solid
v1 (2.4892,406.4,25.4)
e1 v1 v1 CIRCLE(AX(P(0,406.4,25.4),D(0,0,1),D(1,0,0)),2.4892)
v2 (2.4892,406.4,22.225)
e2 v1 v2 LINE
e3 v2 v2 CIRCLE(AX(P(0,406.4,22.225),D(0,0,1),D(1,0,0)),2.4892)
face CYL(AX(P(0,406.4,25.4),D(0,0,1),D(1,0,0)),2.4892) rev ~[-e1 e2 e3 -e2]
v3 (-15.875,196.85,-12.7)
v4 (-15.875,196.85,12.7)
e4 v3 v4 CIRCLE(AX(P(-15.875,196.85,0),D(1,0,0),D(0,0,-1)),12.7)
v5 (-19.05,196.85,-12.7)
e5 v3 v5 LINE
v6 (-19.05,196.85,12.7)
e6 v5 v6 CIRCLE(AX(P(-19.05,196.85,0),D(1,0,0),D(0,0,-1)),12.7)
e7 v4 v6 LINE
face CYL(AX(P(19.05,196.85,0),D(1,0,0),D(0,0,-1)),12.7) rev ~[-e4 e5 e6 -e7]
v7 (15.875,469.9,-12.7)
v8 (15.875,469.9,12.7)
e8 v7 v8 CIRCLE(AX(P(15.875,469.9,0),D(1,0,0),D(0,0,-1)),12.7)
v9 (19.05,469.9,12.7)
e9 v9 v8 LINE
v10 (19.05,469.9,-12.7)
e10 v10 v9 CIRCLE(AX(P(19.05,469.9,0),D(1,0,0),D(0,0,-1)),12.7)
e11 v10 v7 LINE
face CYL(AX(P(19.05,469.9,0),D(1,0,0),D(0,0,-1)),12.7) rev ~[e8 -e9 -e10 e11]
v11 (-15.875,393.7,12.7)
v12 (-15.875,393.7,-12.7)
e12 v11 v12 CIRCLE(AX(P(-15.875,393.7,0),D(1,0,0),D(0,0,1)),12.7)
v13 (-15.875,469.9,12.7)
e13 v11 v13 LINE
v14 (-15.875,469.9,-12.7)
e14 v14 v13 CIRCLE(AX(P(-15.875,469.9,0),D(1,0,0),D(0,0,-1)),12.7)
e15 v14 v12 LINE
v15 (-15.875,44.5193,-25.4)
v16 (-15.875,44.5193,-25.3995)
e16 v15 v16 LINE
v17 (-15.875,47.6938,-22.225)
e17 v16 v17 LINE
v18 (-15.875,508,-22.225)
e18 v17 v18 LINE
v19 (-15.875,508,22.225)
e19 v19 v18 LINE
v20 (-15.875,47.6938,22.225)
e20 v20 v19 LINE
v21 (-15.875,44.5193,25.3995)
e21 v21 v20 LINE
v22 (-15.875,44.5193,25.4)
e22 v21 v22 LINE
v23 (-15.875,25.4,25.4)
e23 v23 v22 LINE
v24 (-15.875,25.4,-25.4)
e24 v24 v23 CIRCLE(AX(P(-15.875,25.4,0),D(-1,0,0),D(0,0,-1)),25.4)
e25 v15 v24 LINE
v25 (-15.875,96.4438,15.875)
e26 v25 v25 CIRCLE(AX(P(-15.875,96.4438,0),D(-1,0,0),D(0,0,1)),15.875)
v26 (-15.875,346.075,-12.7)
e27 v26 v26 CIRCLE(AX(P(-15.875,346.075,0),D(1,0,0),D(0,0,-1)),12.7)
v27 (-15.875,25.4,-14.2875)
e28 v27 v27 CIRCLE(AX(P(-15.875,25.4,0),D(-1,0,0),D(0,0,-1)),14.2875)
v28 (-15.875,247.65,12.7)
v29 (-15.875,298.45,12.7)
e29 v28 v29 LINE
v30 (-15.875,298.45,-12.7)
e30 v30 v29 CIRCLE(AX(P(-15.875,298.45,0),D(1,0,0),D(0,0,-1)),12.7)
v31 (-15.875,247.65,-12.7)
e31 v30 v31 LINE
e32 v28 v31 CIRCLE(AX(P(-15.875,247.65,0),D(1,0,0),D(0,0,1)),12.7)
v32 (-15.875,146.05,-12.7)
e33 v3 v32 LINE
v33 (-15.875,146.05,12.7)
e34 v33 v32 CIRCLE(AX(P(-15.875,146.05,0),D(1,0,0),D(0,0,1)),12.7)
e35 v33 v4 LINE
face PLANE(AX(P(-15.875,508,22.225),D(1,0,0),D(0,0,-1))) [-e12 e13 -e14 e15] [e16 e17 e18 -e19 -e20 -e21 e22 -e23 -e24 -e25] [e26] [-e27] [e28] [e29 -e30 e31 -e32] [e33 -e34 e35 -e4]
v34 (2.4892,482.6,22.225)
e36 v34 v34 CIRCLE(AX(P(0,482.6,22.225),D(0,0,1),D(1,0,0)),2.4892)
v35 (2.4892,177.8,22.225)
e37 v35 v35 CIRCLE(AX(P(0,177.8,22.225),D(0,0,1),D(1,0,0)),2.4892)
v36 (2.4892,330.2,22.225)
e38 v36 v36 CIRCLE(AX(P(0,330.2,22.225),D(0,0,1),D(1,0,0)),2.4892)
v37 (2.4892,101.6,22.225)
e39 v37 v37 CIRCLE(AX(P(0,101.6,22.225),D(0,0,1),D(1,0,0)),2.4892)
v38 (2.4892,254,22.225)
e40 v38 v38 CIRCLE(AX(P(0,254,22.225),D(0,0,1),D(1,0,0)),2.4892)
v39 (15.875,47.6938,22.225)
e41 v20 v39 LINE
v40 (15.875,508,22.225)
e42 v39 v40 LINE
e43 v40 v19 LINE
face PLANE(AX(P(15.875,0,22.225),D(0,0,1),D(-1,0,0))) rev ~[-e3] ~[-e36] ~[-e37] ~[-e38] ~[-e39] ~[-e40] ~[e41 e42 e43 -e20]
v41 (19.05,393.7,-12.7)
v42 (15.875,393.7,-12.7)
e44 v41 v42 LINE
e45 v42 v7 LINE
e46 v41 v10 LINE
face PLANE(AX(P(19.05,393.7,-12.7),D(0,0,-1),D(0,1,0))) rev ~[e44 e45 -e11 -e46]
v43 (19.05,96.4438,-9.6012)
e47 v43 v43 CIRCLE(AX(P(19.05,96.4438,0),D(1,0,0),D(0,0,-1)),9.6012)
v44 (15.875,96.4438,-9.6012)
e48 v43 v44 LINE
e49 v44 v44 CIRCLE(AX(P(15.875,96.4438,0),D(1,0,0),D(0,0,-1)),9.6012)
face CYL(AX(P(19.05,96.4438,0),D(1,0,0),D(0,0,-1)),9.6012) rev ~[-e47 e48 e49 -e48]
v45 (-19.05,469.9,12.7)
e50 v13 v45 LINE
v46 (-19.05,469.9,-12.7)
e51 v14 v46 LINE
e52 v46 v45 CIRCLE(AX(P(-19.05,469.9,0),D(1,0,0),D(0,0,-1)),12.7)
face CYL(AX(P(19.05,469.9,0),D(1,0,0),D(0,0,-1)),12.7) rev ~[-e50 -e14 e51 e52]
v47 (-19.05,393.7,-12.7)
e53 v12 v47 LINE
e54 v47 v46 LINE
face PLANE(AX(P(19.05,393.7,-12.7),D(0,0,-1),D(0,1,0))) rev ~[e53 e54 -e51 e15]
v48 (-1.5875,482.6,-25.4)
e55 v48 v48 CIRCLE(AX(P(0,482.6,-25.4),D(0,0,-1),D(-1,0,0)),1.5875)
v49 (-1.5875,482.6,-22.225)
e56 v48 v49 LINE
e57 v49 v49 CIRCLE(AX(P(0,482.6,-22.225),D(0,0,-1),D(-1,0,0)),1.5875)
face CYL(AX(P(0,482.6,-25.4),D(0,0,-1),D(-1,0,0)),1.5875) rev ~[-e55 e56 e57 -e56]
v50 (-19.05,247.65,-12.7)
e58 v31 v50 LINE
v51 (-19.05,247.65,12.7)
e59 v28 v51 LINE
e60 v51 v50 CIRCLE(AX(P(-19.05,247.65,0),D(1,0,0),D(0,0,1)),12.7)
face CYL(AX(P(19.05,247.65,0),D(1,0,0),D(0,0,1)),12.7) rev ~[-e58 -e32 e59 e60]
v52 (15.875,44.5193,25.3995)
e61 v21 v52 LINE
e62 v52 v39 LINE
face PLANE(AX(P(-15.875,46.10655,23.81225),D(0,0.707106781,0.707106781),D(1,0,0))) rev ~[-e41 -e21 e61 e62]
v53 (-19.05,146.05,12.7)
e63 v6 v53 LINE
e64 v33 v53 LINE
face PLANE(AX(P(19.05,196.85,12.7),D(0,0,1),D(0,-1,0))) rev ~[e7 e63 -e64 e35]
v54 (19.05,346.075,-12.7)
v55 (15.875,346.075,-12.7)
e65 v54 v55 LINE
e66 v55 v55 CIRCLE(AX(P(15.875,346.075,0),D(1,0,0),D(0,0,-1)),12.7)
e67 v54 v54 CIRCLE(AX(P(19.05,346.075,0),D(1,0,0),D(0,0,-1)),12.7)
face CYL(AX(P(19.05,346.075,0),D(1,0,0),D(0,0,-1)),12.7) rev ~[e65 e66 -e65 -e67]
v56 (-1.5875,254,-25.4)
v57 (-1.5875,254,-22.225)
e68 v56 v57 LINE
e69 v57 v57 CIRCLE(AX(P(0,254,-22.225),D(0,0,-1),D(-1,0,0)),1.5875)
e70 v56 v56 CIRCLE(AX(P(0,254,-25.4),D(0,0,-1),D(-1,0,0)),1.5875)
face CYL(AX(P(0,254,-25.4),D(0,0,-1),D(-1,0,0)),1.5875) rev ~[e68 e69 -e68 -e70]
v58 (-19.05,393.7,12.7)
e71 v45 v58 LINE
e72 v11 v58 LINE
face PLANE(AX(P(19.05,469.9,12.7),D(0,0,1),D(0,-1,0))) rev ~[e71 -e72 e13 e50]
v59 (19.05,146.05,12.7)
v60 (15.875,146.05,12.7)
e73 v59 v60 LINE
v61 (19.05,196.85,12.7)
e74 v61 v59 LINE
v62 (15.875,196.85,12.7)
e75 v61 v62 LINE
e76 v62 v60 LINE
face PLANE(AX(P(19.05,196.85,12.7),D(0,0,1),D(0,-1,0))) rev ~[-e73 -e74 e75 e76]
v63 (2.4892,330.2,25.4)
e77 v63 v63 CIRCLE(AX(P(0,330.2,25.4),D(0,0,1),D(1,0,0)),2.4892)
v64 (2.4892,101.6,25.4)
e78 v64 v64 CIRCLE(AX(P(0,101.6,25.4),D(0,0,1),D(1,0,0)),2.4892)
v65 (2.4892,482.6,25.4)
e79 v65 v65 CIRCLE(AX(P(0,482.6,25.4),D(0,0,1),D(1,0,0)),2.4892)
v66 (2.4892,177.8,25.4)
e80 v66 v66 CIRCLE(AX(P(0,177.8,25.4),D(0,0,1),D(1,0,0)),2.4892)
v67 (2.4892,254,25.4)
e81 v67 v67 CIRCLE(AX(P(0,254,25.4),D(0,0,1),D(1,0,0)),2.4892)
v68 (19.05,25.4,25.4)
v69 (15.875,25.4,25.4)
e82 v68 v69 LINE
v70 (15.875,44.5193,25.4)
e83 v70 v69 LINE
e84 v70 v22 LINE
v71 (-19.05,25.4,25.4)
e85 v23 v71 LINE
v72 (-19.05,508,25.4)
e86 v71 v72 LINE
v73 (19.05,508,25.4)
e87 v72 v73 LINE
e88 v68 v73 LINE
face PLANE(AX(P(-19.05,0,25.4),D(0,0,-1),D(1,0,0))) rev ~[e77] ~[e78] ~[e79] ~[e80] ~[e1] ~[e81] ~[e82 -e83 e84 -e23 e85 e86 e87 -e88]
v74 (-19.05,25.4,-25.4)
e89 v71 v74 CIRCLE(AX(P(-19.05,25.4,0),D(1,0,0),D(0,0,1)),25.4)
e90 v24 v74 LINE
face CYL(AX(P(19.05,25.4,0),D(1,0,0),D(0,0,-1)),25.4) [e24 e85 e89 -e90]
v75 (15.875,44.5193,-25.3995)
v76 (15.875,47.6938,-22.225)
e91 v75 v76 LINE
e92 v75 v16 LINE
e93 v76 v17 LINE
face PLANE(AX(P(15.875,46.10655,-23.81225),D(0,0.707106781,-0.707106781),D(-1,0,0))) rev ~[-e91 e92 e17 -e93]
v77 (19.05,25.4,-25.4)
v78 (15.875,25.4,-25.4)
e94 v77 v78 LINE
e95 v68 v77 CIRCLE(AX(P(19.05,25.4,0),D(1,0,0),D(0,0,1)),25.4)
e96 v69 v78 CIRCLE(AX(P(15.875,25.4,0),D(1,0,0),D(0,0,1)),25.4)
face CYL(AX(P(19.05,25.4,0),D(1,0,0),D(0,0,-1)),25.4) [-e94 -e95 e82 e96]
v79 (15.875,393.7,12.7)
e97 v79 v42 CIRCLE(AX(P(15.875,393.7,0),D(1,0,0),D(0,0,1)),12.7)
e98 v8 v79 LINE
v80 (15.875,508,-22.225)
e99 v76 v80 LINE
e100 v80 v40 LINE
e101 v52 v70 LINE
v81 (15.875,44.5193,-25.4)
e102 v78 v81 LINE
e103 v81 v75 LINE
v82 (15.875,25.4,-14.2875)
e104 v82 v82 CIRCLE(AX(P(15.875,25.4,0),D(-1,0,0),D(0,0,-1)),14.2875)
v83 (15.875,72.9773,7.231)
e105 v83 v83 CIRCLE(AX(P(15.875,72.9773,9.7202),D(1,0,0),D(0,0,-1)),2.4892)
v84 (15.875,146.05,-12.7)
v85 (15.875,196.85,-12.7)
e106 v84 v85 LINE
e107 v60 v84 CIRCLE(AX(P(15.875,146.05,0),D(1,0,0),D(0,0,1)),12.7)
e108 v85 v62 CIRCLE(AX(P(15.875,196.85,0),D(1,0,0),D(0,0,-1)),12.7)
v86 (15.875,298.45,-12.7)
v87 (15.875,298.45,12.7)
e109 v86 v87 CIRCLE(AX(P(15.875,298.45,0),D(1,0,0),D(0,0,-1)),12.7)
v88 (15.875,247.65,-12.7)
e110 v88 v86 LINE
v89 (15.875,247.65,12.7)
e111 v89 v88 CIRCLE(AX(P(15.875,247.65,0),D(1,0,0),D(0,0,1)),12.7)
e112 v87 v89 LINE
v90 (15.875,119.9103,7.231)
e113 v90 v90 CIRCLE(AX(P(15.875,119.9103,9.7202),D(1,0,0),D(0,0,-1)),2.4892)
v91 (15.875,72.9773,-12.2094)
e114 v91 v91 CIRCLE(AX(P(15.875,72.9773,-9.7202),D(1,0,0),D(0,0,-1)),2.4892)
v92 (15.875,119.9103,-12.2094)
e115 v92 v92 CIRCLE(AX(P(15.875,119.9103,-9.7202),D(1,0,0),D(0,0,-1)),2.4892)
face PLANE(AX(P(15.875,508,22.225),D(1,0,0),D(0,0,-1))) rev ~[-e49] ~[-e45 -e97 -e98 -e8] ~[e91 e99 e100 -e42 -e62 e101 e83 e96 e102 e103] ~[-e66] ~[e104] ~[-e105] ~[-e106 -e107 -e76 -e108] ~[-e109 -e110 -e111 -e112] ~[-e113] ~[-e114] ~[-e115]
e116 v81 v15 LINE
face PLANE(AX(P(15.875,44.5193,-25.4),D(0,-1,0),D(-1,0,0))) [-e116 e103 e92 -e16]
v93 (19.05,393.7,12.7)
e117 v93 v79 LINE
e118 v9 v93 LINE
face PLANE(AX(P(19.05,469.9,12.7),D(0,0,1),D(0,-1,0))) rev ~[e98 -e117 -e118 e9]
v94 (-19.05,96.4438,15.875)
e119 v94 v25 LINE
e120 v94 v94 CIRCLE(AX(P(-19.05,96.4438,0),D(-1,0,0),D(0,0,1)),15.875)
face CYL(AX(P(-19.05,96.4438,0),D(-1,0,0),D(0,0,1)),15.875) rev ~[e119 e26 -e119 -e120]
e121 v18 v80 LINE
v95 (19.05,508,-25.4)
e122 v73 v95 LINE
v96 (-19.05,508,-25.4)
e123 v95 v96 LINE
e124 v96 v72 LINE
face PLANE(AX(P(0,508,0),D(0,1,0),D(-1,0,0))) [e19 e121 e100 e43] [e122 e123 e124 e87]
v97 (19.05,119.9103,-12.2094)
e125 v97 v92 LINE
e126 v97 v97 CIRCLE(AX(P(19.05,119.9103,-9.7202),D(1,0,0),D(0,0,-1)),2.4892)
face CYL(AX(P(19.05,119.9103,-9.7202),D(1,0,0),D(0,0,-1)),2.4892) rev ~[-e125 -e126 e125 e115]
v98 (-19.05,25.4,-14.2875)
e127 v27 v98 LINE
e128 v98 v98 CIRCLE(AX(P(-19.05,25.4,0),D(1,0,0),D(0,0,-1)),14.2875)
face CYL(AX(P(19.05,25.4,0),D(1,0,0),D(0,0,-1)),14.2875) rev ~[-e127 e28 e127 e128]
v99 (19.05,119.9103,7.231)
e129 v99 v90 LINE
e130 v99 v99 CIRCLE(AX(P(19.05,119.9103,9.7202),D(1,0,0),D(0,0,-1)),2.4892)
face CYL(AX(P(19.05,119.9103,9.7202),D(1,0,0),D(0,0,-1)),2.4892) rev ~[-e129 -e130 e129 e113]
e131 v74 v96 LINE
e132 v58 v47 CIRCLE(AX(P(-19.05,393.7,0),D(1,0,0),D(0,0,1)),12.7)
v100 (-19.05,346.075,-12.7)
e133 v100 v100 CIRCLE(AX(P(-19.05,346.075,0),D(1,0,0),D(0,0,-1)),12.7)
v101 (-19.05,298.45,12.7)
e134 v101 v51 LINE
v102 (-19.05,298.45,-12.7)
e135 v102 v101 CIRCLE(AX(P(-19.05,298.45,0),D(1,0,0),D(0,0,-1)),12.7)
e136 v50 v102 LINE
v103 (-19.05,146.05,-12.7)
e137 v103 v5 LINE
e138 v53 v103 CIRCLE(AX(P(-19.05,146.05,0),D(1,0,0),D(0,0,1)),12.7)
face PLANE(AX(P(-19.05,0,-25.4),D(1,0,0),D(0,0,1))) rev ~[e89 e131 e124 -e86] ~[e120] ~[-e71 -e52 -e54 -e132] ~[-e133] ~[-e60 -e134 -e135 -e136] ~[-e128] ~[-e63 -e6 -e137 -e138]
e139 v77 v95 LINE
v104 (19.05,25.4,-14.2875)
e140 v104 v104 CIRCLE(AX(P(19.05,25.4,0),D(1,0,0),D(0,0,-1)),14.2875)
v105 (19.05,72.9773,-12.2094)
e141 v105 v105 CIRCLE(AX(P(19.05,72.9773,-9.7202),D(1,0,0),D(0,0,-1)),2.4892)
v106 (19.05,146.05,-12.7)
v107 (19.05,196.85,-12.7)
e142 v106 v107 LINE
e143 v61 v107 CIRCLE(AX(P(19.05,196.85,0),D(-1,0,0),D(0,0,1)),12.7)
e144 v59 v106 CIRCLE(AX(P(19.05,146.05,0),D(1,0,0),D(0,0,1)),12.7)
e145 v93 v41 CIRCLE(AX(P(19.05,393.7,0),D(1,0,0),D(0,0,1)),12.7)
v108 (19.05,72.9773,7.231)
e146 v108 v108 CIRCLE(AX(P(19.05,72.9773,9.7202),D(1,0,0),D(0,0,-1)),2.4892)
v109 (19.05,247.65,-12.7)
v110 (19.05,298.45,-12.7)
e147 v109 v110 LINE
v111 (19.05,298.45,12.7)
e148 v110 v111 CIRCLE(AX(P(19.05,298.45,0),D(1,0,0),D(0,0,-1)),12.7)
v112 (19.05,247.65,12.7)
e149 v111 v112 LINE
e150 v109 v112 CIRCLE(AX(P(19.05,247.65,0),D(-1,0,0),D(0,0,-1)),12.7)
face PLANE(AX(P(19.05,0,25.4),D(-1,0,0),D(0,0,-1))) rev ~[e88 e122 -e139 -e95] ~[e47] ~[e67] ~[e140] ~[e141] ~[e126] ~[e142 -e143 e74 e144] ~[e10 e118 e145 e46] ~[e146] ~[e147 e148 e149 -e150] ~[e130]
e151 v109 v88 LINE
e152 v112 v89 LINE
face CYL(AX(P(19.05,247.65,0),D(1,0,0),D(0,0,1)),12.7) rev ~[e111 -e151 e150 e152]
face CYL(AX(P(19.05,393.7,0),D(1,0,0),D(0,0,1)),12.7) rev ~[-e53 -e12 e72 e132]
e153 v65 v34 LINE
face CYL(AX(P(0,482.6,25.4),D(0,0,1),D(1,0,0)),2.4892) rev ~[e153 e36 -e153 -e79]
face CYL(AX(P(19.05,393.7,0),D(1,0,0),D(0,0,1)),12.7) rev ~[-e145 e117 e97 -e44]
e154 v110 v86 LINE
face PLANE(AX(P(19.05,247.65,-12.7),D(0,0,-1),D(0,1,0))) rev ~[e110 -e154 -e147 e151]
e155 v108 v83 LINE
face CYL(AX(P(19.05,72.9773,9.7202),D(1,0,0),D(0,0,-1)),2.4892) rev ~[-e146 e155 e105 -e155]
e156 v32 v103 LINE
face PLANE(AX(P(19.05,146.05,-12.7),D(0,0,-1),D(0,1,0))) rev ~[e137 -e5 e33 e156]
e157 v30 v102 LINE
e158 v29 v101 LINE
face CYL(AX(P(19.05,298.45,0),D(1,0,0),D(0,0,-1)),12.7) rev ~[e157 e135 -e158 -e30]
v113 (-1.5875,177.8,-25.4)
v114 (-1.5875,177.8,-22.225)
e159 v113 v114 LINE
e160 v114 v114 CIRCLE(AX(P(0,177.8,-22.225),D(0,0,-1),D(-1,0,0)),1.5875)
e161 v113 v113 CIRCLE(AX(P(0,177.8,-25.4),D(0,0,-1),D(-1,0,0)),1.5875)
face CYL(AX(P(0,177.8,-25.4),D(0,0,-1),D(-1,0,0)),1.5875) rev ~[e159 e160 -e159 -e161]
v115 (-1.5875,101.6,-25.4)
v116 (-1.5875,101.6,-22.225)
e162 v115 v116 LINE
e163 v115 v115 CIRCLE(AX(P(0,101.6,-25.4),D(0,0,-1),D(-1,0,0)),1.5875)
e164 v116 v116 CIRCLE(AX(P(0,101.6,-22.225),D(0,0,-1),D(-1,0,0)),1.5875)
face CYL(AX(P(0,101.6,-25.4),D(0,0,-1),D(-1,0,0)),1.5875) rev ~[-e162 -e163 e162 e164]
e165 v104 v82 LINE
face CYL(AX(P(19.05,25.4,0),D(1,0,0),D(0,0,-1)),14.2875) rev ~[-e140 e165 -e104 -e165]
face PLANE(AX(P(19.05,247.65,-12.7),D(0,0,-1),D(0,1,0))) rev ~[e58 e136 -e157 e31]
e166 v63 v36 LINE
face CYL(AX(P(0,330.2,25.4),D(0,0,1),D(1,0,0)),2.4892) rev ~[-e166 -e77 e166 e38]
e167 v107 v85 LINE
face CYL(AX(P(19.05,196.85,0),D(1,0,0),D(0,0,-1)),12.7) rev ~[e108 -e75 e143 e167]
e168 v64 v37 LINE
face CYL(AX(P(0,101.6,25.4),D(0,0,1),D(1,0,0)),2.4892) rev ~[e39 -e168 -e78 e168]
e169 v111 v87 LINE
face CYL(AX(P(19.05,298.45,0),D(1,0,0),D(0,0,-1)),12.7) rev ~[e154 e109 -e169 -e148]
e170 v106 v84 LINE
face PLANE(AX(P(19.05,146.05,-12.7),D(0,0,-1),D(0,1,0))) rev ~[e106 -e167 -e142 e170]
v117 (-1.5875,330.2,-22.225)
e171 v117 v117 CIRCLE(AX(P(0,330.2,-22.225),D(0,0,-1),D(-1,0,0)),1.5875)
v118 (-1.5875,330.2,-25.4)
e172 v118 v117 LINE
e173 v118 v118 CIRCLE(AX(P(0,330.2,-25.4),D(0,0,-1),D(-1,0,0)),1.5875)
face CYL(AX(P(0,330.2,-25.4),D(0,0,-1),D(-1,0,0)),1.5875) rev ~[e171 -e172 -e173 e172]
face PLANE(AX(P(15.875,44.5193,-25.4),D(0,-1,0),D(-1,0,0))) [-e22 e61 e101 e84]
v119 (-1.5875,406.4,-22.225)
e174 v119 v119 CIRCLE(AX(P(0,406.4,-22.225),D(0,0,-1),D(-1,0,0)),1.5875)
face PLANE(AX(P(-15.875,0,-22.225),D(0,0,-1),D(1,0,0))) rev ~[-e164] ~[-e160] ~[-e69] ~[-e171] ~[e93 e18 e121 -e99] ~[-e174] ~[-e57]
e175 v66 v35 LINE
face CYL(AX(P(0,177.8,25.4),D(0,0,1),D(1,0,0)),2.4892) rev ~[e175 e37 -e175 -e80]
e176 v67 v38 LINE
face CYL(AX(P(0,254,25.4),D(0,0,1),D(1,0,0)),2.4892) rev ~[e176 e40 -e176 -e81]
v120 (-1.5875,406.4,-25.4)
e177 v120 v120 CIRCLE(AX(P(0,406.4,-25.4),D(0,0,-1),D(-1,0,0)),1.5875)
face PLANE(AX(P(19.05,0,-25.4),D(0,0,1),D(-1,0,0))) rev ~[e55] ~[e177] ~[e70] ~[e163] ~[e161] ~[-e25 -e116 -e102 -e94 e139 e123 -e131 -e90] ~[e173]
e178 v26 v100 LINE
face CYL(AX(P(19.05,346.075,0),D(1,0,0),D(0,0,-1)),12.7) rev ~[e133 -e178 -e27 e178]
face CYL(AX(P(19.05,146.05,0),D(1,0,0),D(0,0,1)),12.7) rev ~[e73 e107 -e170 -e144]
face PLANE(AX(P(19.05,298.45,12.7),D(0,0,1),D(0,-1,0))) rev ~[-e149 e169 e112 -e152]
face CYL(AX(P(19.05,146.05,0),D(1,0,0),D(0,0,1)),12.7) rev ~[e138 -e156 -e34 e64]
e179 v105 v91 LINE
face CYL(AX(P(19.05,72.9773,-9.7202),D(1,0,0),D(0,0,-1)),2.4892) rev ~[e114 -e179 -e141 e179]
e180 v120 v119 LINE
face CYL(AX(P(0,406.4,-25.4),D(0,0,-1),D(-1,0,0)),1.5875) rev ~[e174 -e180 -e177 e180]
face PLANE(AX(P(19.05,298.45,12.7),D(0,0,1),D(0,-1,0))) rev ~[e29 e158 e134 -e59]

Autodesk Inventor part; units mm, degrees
ref_plane "YZ Plane" through (0, 0, 0) normal (1, 0, 0) x (0, 1, 0)
ref_plane "XZ Plane" through (0, 0, 0) normal (0, 1, 0) x (-1, 0, 0)
ref_plane "XY Plane" through (0, 0, 0) normal (0, 0, 1) x (1, 0, 0)
sketch "Sketch1" plane through (0, 0, 0) normal (0, 1, 0) x (-1, 0, 0)
  line L0 (-19.05, -25.4) -> (19.05, -25.4)
  line L1 (19.05, -25.4) -> (19.05, 25.4)
  line L2 (19.05, 25.4) -> (-19.05, 25.4)
  line L3 (-19.05, 25.4) -> (-19.05, -25.4)
  line L4 (-19.05, -25.4) -> (19.05, 25.4) construction
  line L5 (19.05, -25.4) -> (-19.05, 25.4) construction
  line L6 (-15.875, 22.225) -> (15.875, 22.225)
  line L7 (15.875, 22.225) -> (15.875, -22.225)
  line L8 (15.875, -22.225) -> (-15.875, -22.225)
  line L9 (-15.875, -22.225) -> (-15.875, 22.225)
  point P0 (0, 0)
  dimension "d0" = 38.1
  dimension "d1" = 50.8
  dimension "d2" = 3.175
extrude "Extrusion1" add sketch "Sketch1" along normal blind 508
sketch "Sketch2" plane through (19.05, 0, 25.4) normal (1, 0, 0) x (0, 0, -1)
  line L0 (25.4, 469.9) -> (25.4, 393.7) construction
  line L1 (12.7, 469.9) -> (12.7, 393.7)
  line L2 (38.1, 393.7) -> (38.1, 469.9)
  arc A0 (38.1, 469.9) -> (12.7, 469.9) centre (25.4, 469.9) ccw
  arc A1 (12.7, 393.7) -> (38.1, 393.7) centre (25.4, 393.7) ccw
  line L3 (25.4, 298.45) -> (25.4, 146.05) construction
  line L4 (12.7, 298.45) -> (12.7, 146.05)
  line L5 (38.1, 146.05) -> (38.1, 298.45)
  arc A2 (38.1, 298.45) -> (12.7, 298.45) centre (25.4, 298.45) ccw
  arc A3 (12.7, 146.05) -> (38.1, 146.05) centre (25.4, 146.05) ccw
  line L6 (25.4, 114.3) -> (25.4, 38.1) construction
  line L7 (12.7, 114.3) -> (12.7, 38.1)
  line L8 (38.1, 38.1) -> (38.1, 114.3) construction
  arc A4 (38.1, 114.3) -> (12.7, 114.3) centre (25.4, 114.3) ccw
  arc A5 (12.7, 38.1) -> (38.1, 38.1) centre (25.4, 38.1) ccw construction
  line L9 (0, 0) -> (50.8, 0) projected
  line L10 (50.8, 0) -> (50.8, 508) projected
  line L11 (0, 508) -> (50.8, 508) projected
  line L12 (0, 0) -> (0, 508) projected
  line L13 (0, 0) -> (0, 508) projected
  circle A6 centre (25.4, 346.075) radius 12.7
  circle A7 centre (25.4, 25.4) radius 25.4
  circle A8 centre (25.4, 25.4) radius 14.2875
  circle A9 centre (25.4, 222.25) radius 12.7
  arc A10 (12.7, 247.65) -> (38.1, 247.65) centre (25.4, 247.65) ccw
  arc A11 (38.1, 196.85) -> (12.7, 196.85) centre (25.4, 196.85) ccw
  point P0 (25.4, 0)
  point P1 (25.4, 431.8)
  point P2 (25.4, 76.2)
  point P3 (25.4, 0)
  point P4 (25.4, 0)
  point P5 (0, 25.4)
  point P6 (50.8, 25.4)
  dimension "d5" = 25.4
  dimension "d6" = 25.4
  dimension "d7" = 25.4
  dimension "d8" = 508
  dimension "d9" = 76.2
  dimension "d10" = 152.4
  dimension "d11" = 76.2
  dimension "d15" = 25.4
  dimension "d16" = 161.925
  dimension "d18" = 38.1
  dimension "d19" = 38.1
  dimension "d35" = 28.575
  dimension "d49" = 298.45
  dimension "d52" = 25.4
extrude "Extrusion2" cut sketch "Sketch2" against normal blind 508 contours A0 L2 A1 L1 | A2 L5 A10 L4 | A11 L5 A3 L4 | L12 A7 L9 | A7 L10 L9 | A6 | A8
sketch "Sketch3" plane through (-19.05, 0, 25.4) normal (0, 0, 1) x (1, 0, 0)
  line L0 (19.05, 0) -> (19.05, 50.8) construction
  line L1 (19.05, 50.8) -> (19.05, 508) construction
  circle A0 centre (19.05, 101.6) radius 2.4892
  circle A1 centre (19.05, 177.8) radius 2.4892
  circle A2 centre (19.05, 254) radius 2.4892
  circle A3 centre (19.05, 330.2) radius 2.4892
  circle A4 centre (19.05, 406.4) radius 2.4892
  circle A5 centre (19.05, 482.6) radius 2.4892
  dimension "d20" = 50.8
  dimension "d21" = 457.2
  dimension "d22" = 4.9784
  dimension "d23" = 50.8
  dimension "d26" = 76.2
extrude "Extrusion3" cut sketch "Sketch3" against normal blind 25.4
sketch "Sketch5" plane through (-15.875, 508, 22.225) normal (1, 0, 0) x (0, 0, -1)
  circle A0 centre (22.225, -482.6) radius 14.2875 projected
  circle A1 centre (22.225, -482.6) radius 26.9875
  point P0 (22.225, -508)
  dimension "d36" = 53.975
extrude "Extrusion5" cut sketch "Sketch5" along normal up to surface (31.75 mm away)
sketch "Sketch6" plane through (19.05, 508, 25.4) normal (1, 0, 0) x (0, 0, -1)
  circle A0 centre (25.4, -411.5562) radius 9.6012
  circle A1 centre (25.4, -411.5562) radius 25.4 construction
  line L0 (15.6798, -388.0897) -> (35.1202, -388.0897) construction
  line L1 (35.1202, -388.0897) -> (35.1202, -435.0227) construction
  line L2 (35.1202, -435.0227) -> (15.6798, -435.0227) construction
  line L3 (15.6798, -435.0227) -> (15.6798, -388.0897) construction
  arc A2 (0, -482.6) -> (50.8, -482.6) centre (25.4, -482.6) ccw projected
  circle A3 centre (15.6798, -388.0897) radius 2.4892
  circle A4 centre (1.9335, -401.836) radius 2.4892 construction
  circle A5 centre (1.9335, -421.2764) radius 2.4892 construction
  circle A6 centre (15.6798, -435.0227) radius 2.4892
  circle A7 centre (35.1202, -435.0227) radius 2.4892
  circle A8 centre (48.8665, -421.2764) radius 2.4892 construction
  circle A9 centre (48.8665, -401.836) radius 2.4892 construction
  circle A10 centre (35.1202, -388.0897) radius 2.4892
  point P0 (25.4, -508)
  point P1 (25.4, -508)
  dimension "d39" = 19.2024
  dimension "d40" = 50.8
  dimension "d41" = 4.9784
  dimension "d44" = 360
  dimension "d46" = 71.0438
extrude "Extrusion6" cut sketch "Sketch6" against normal blind 25.4
sketch "Sketch8" plane through (-19.05, 508, -25.4) normal (-1, 0, 0) x (0, 0, 1)
  circle A0 centre (25.4, -411.5562) radius 9.6012 projected
  circle A1 centre (25.4, -411.5562) radius 15.875
  point P0 (25.4, -508)
  dimension "d53" = 31.75
extrude "Extrusion7" cut sketch "Sketch8" against normal blind 25.4 contours A0 | A1
sketch "Sketch9" plane through (19.05, 508, -25.4) normal (0, 0, -1) x (-1, 0, 0)
  line L0 (34.925, -467.2907) -> (3.175, -467.2907) projected
  line L1 (3.175, -467.2907) -> (3.175, -473.4805) projected
  line L2 (34.925, -467.2907) -> (34.925, -473.4805) projected
  line L3 (3.175, -473.4805) -> (34.925, -473.4805) projected
  line L4 (3.175, -467.2907) -> (3.175, -463.4807)
  line L5 (3.175, -467.2907) -> (3.175, 0) projected
  line L6 (3.175, -463.4807) -> (34.925, -463.4807)
  line L7 (34.925, -467.2907) -> (34.925, 0) projected
  point P0 (19.05, -508)
  dimension "d64" = 3.81
extrude "Extrusion8" cut sketch "Sketch9" against normal through all
sketch "Sketch10" plane through (19.05, 508, 25.4) normal (1, 0, 0) x (0, 0, -1)
  circle A0 centre (25.4, -482.6) radius 14.2875 projected
  circle A1 centre (25.4, -482.6) radius 22.225
  line L0 (50.8, -482.6) -> (50.8, 0) projected
  arc A2 (25.4, -504.825) -> (50.8, -479.425) centre (25.4, -479.425) ccw
  line L1 (0, -482.6) -> (0, 0) projected
  arc A3 (0, -479.425) -> (25.4, -504.825) centre (25.4, -479.425) ccw
  arc A4 (0, -482.6) -> (50.8, -482.6) centre (25.4, -482.6) ccw projected
  point P0 (25.4, -508)
  point P1 (25.4, -504.825)
  dimension "d58" = 44.45
extrude "Extrusion9" [suppressed]
chamfer "Chamfer1" distance 3.175 angle 45 2 edges at (0, 44.5193, -22.225) (0, 44.5193, 22.225)
sketch "Sketch11" plane through (19.05, 508, -25.4) normal (0, 0, -1) x (-1, 0, 0)
  circle A0 centre (19.05, -25.4) radius 2.4892 construction
  circle A1 centre (19.05, -25.4) radius 1.5875
  line L0 (34.925, -463.4807) -> (34.925, -482.6) projected
  line L1 (38.1, -482.6) -> (34.925, -482.6) projected
  line L2 (38.1, -482.6) -> (38.1, 0) projected
  line L3 (0, 0) -> (38.1, 0) projected
  line L4 (0, -482.6) -> (0, 0) projected
  line L5 (3.175, -482.6) -> (0, -482.6) projected
  line L6 (3.175, -482.6) -> (3.175, -463.4807) projected
  line L7 (3.175, -463.4807) -> (34.925, -463.4807) projected
  circle A2 centre (19.05, -101.6) radius 1.5875
  circle A3 centre (19.05, -177.8) radius 1.5875
  circle A4 centre (19.05, -254) radius 1.5875
  circle A5 centre (19.05, -330.2) radius 1.5875
  circle A6 centre (19.05, -406.4) radius 1.5875
  point P0 (19.05, -508)
  dimension "d65" = 3.175
  dimension "d68" = 76.2
extrude "Extrusion10" cut sketch "Sketch11" against normal blind 25.4 contours A1 | A2 | A3 | A4 | A5 | A6
thread "Thread1" size "5-40 UNC" class "2B" standard "ANSI Unified Screw Threads" full length
thread "Thread2" size "5-40 UNC" class "2B" standard "ANSI Unified Screw Threads" full length
thread "Thread3" size "5-40 UNC" class "2B" standard "ANSI Unified Screw Threads" full length
thread "Thread4" size "5-40 UNC" class "2B" standard "ANSI Unified Screw Threads" full length
thread "Thread5" size "5-40 UNC" class "2B" standard "ANSI Unified Screw Threads" full length
thread "Thread6" size "5-40 UNC" class "2B" standard "ANSI Unified Screw Threads" full length
properties part number "CLIM_002_ClimbPole" material "Aluminum 6061"
